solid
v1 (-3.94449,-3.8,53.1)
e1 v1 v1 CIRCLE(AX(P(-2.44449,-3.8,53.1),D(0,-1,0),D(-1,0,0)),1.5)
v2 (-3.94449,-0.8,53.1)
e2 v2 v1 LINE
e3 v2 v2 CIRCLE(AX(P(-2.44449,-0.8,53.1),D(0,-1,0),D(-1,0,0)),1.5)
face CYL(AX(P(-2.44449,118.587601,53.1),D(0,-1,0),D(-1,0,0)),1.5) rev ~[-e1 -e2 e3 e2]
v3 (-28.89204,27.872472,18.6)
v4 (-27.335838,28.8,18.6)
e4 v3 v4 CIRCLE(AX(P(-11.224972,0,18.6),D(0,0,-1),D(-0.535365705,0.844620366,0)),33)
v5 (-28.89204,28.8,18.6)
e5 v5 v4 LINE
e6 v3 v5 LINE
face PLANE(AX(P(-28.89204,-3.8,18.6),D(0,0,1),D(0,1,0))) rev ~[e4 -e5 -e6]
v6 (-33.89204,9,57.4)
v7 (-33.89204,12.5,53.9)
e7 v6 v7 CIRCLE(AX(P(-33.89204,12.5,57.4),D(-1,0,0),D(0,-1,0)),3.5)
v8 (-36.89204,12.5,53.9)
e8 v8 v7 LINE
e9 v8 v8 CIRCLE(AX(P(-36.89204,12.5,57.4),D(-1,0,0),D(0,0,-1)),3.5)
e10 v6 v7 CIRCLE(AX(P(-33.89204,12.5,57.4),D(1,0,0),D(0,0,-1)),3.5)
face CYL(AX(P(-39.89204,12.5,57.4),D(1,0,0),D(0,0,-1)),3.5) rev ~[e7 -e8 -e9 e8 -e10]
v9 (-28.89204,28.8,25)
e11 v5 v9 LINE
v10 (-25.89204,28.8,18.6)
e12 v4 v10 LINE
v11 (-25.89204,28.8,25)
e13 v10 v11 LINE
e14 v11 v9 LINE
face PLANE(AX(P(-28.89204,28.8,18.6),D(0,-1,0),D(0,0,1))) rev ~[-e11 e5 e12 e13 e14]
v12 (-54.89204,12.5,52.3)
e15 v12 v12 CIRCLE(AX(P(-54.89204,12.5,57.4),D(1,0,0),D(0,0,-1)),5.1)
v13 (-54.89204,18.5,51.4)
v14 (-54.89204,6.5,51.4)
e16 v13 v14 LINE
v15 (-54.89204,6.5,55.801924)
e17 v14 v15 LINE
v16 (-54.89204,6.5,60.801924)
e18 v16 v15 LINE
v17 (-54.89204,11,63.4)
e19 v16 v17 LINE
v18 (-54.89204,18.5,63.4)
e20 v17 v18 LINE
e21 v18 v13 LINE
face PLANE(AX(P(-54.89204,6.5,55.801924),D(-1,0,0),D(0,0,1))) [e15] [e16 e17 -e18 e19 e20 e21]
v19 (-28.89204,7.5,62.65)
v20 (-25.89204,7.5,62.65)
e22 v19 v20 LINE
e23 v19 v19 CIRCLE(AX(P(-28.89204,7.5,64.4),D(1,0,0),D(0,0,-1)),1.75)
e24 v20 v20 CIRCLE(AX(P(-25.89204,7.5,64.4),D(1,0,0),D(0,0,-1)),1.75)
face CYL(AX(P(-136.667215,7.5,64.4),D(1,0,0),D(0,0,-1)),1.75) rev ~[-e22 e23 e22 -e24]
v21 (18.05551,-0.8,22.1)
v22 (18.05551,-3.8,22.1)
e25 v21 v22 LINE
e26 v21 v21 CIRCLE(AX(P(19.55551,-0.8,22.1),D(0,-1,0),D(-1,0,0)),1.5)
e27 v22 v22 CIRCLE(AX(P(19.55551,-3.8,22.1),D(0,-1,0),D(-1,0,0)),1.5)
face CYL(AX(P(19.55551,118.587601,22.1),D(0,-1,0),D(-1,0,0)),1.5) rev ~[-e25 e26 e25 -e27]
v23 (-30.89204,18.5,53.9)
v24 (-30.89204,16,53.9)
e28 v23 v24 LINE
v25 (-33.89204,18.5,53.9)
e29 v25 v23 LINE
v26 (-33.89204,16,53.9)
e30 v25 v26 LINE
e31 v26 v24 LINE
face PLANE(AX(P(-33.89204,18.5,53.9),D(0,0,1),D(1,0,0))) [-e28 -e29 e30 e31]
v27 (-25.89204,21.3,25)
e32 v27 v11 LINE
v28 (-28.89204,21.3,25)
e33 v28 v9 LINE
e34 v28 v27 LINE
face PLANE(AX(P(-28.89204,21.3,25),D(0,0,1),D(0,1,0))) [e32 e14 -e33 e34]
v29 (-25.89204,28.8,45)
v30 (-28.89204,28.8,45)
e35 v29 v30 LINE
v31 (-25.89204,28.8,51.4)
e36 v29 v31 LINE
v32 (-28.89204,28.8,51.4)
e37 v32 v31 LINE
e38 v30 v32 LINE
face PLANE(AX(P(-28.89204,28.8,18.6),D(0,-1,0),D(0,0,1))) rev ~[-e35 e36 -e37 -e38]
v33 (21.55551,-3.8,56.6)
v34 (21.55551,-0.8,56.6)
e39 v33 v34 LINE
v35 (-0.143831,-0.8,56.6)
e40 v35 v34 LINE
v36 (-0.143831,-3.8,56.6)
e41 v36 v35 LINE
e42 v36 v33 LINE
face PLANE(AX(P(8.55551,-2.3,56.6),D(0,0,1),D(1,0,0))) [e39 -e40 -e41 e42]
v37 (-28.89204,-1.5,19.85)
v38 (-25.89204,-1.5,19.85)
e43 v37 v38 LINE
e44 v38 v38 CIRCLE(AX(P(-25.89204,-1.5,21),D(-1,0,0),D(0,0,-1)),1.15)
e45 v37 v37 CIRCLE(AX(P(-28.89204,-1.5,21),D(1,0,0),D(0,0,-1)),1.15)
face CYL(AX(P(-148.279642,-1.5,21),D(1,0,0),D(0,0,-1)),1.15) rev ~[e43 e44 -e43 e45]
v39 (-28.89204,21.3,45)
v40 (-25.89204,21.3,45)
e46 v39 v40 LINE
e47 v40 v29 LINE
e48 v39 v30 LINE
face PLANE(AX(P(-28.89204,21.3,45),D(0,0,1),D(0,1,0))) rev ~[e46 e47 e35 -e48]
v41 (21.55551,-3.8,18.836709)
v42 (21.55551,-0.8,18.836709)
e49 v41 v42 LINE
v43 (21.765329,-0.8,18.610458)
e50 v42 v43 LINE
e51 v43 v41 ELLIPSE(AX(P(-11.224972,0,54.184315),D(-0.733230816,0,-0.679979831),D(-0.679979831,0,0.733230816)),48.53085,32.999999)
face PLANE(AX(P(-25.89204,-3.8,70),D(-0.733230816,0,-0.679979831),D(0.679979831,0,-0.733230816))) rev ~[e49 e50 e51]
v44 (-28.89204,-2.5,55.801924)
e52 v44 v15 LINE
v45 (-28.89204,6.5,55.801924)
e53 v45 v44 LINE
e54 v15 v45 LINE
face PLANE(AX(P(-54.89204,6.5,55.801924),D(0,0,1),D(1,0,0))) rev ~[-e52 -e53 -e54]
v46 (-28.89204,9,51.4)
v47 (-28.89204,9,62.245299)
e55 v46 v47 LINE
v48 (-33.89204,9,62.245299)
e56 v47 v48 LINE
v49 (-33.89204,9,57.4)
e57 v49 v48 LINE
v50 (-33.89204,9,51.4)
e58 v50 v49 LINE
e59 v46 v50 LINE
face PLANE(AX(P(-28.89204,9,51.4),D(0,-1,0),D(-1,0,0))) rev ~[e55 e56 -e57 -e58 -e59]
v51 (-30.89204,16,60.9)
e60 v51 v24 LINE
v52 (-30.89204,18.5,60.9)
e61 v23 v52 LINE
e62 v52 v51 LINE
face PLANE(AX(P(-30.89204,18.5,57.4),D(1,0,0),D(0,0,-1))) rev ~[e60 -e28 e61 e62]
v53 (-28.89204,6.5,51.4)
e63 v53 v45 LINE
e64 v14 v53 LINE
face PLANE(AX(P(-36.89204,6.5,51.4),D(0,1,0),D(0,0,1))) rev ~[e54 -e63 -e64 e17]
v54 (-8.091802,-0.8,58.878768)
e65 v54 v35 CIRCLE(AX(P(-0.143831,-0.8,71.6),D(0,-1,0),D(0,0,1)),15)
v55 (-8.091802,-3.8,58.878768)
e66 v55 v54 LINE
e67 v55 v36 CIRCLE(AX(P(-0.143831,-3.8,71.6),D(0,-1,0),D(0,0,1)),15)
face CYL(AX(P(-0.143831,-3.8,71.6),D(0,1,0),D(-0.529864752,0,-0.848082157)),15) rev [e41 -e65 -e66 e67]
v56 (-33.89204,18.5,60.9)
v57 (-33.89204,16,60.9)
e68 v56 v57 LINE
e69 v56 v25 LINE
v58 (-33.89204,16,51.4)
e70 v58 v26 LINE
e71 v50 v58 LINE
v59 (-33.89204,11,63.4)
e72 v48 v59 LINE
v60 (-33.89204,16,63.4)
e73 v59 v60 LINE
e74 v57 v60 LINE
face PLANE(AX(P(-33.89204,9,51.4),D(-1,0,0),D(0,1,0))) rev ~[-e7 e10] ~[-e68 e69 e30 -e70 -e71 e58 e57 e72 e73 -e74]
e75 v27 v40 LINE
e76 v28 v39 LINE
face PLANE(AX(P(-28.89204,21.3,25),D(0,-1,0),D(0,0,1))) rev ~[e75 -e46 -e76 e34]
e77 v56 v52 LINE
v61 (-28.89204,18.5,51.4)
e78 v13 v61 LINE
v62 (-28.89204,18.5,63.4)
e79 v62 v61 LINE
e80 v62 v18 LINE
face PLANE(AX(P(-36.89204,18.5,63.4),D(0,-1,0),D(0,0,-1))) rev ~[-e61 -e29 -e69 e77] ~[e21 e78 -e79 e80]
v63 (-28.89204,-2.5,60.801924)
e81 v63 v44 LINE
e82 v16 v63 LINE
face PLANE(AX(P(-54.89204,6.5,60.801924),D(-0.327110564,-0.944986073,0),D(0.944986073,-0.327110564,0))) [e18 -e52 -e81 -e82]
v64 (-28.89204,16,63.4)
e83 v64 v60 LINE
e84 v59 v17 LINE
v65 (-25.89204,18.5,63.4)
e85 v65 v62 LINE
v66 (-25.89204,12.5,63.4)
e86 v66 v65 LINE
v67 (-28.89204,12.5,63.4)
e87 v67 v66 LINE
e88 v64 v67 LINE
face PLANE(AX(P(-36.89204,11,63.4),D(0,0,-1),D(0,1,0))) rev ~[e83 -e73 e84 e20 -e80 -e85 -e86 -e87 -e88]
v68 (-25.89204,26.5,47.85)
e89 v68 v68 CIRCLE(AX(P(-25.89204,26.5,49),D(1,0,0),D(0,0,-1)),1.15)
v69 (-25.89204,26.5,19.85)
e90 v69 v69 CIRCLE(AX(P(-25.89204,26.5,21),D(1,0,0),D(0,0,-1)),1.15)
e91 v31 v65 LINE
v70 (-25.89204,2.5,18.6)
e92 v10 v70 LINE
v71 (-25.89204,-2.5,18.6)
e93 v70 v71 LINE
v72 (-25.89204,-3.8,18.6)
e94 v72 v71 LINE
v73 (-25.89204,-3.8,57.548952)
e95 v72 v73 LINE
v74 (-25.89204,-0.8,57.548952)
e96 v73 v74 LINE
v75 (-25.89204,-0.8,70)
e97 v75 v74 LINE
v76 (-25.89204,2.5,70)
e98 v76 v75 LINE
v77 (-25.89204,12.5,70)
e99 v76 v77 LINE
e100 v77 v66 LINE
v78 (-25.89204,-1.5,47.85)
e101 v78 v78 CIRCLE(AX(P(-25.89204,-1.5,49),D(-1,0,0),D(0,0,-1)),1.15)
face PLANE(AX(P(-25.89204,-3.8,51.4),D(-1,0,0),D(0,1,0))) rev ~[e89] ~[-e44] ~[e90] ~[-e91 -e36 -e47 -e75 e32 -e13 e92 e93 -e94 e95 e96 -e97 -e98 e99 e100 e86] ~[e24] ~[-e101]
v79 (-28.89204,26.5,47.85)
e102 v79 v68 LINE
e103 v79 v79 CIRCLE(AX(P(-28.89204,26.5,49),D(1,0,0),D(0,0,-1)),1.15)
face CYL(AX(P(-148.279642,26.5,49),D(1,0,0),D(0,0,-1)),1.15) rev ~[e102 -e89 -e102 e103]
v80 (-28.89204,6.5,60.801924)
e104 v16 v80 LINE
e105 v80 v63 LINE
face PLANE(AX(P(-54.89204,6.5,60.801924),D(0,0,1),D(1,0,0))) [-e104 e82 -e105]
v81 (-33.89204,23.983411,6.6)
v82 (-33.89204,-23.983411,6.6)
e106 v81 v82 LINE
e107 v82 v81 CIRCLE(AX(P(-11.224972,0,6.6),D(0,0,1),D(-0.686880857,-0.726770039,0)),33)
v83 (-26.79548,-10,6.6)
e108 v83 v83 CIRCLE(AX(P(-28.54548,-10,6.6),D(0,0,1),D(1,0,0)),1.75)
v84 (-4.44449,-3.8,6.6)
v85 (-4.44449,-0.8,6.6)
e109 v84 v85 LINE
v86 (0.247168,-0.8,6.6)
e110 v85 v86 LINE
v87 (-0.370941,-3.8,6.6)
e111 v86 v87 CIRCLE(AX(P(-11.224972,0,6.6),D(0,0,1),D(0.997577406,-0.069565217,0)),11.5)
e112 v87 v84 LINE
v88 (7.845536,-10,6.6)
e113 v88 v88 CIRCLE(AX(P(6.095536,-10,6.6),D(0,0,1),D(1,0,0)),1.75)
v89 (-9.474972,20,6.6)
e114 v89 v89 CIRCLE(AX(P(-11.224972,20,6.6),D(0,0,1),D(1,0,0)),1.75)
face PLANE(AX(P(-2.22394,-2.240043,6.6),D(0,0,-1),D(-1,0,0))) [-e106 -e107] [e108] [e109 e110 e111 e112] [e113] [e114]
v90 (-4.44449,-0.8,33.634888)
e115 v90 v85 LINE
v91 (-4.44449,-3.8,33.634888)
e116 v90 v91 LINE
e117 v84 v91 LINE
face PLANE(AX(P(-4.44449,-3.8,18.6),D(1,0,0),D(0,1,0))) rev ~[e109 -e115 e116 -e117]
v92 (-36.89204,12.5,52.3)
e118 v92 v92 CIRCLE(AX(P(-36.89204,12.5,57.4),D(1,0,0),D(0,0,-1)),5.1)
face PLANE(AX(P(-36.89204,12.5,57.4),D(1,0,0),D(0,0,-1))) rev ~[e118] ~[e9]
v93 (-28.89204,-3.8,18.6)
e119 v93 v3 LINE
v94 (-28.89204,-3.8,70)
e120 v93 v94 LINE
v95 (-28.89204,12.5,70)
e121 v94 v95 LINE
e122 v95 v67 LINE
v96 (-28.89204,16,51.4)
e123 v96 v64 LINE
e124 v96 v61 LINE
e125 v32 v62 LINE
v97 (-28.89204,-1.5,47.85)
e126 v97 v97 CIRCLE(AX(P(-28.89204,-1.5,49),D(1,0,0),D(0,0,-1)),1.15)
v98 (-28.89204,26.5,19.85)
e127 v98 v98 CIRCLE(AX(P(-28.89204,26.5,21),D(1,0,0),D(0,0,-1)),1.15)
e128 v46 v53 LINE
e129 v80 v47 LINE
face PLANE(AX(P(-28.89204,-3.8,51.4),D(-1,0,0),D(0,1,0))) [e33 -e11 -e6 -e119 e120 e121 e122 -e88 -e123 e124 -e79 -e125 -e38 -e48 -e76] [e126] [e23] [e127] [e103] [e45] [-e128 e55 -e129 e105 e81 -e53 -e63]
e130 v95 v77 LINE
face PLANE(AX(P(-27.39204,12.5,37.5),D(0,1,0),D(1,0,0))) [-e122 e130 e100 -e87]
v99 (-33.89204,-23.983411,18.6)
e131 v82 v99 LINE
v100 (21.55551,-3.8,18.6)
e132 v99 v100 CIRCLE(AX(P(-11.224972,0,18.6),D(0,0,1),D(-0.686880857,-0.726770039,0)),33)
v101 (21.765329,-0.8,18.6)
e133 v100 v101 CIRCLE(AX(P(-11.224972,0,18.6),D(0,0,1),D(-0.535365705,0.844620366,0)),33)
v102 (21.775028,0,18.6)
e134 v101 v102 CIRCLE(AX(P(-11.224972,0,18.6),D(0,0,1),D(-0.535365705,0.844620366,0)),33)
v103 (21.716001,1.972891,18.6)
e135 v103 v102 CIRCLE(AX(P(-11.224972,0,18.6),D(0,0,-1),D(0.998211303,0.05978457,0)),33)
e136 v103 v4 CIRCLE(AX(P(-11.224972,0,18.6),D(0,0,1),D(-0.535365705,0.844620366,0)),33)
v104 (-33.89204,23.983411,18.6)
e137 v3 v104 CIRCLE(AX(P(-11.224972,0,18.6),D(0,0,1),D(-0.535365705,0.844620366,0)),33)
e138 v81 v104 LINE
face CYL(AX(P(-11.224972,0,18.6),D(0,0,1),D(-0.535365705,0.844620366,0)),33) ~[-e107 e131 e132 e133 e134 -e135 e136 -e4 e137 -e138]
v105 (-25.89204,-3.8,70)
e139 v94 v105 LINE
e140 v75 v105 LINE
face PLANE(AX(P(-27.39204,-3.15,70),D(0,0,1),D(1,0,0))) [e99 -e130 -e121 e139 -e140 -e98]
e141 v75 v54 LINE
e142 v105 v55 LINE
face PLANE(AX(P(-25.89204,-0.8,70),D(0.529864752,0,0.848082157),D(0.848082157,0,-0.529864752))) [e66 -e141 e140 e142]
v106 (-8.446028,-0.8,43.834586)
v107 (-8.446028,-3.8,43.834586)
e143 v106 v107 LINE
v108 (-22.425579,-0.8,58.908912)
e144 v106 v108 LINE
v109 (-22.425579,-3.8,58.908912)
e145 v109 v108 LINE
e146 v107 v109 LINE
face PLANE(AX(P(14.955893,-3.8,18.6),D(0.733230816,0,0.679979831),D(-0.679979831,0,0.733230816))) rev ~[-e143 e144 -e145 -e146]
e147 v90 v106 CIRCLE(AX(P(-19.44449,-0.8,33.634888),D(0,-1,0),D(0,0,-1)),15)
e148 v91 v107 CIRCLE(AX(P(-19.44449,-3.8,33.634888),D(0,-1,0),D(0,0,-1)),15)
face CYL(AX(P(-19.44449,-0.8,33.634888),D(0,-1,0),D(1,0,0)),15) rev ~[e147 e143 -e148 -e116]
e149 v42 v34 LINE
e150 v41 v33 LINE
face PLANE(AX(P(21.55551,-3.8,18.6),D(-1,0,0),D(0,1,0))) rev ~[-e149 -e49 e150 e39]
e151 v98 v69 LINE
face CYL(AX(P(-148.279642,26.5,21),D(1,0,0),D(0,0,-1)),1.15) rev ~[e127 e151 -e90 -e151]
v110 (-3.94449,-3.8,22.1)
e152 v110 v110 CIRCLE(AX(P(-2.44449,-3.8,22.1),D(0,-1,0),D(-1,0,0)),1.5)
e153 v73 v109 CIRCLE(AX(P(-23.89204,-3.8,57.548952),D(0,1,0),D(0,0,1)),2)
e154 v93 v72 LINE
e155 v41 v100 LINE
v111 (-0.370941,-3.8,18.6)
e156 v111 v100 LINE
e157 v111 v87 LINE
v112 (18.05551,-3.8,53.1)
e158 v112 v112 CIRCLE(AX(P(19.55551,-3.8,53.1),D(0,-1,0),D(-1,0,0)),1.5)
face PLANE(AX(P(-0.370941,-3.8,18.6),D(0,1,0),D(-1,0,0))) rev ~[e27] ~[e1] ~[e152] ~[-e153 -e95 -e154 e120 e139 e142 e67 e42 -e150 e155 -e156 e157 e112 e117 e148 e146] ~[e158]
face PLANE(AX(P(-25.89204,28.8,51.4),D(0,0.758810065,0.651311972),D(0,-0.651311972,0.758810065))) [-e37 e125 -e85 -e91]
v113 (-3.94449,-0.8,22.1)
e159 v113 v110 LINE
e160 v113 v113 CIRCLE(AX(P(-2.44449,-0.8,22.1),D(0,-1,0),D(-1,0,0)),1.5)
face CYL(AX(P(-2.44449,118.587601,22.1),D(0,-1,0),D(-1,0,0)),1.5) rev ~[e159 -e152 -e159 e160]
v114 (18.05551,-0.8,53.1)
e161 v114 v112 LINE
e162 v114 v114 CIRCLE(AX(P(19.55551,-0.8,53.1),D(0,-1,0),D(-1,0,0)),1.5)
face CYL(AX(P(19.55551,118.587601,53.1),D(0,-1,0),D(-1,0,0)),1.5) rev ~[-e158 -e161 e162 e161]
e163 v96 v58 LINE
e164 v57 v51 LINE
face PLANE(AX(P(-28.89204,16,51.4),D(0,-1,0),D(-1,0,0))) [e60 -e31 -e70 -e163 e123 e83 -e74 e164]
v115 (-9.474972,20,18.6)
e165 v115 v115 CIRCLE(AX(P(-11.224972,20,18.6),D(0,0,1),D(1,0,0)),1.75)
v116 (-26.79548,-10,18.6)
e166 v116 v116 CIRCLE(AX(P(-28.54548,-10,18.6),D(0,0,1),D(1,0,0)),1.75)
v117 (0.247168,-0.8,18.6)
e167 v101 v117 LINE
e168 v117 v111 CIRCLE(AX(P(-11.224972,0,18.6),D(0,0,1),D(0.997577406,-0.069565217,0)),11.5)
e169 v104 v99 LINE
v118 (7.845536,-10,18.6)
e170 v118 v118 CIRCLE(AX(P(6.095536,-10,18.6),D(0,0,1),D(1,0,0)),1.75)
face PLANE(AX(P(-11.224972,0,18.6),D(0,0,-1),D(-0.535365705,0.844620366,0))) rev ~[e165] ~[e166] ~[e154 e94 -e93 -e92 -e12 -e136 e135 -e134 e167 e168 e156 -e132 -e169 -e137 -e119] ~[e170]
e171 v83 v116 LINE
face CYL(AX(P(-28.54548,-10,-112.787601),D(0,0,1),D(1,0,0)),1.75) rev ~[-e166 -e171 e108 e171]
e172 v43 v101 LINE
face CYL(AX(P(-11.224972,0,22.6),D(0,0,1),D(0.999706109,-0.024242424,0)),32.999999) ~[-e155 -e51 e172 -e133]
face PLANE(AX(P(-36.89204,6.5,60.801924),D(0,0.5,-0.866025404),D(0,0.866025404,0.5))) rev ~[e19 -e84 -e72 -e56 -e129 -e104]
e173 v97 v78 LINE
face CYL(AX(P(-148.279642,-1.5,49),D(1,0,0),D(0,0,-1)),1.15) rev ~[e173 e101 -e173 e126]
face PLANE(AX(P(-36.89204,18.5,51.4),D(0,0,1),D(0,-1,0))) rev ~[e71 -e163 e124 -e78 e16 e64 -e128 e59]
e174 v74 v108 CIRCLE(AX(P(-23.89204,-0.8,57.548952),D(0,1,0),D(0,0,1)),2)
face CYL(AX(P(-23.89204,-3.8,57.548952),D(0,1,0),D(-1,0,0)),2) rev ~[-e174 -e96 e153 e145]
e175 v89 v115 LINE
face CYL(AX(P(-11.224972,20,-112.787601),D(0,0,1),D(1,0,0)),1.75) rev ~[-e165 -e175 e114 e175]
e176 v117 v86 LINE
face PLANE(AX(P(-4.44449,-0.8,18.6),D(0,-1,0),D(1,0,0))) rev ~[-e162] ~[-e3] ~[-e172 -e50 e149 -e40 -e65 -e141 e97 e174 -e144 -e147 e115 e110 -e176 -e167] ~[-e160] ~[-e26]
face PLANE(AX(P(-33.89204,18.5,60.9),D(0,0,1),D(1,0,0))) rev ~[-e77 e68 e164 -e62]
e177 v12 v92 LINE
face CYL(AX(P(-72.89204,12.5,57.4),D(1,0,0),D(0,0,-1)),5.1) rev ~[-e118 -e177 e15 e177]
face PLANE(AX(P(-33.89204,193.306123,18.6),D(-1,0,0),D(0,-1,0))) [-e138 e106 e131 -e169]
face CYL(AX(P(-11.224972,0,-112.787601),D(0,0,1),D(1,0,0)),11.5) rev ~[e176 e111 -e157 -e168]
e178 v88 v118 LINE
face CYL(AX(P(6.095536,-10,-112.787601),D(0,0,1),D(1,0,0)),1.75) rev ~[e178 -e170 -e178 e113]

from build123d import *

# Parameters (mm, degrees)
SKETCH_1_R           = 29
EXTRUDE_1_DEPTH      = 5
HOLE_WIZARD_1_D      = 3.5
HOLE_WIZARD_2_D      = 23
EXTRUDE_3_DEPTH      = 65
SKETCH_9_W           = 1
SKETCH_9_H           = 5
CUT_EXTRUDE_1_DEPTH  = 10
SKETCH_10_W          = 3
SKETCH_10_H          = 65
EXTRUDE_5_DEPTH      = 10
HOLE_WIZARD_3_D      = 3.5
EXTRUDE_START        = -65
EXTRUDE_6_DEPTH      = 65
SKETCH_22_W          = 12
SKETCH_22_H          = 6
EXTRUDE_7_DEPTH      = 3
EXTRUDE_8_DEPTH      = 8
HOLE_WIZARD_5_D      = 7
HOLE_WIZARD_5_DEPTH  = 3
SKETCH_27_W          = 5
SKETCH_27_H          = 3.5
CUT_EXTRUDE_3_DEPTH  = 70.598725899
CUT_EXTRUDE_4_REACH  = 94.289
SKETCH_28_W          = 3
SKETCH_28_H          = 3.5
SKETCH_29_R          = 3.5
EXTRUDE_9_DEPTH      = 18
HOLE_WIZARD_6_D      = 10.2
HOLE_WIZARD_6_DEPTH  = 18
SKETCH_32_W          = 26
SKETCH_32_H          = 5
EXTRUDE_10_DEPTH     = 9
CUT_EXTRUDE_5_REACH  = 88.897
SKETCH_36_W          = 32.8
SKETCH_36_H          = 32.6
EXTRUDE_12_DEPTH     = 3
SKETCH_38_R          = 29
CUT_EXTRUDE_7_DEPTH  = 5
SKETCH_39_W          = 17.667068266
SKETCH_39_H          = 15
CUT_EXTRUDE_8_DEPTH  = 13.6
SKETCH_41_R          = 33
EXTRUDE_14_DEPTH     = 12
HOLE_WIZARD_8_D      = 3.5
HOLE_WIZARD_9_D      = 23
HOLE_WIZARD_10_D     = 2.3
SKETCH_53_W          = 20
SKETCH_53_H          = 15
CUT_EXTRUDE_9_DEPTH  = 3
EXTRUDE_16_DEPTH     = 3
SKETCH_56_W          = 3.442096105
SKETCH_56_H          = 51.4
CUT_EXTRUDE_10_DEPTH = 96.777795528
SKETCH_57_W          = 3
SKETCH_57_H          = 1.3
EXTRUDE_17_DEPTH     = 18.6
EXTRUDE_18_DEPTH     = 3
CUT_EXTRUDE_START    = -12
CUT_EXTRUDE_11_DEPTH = 12
SKETCH_63_W          = 26
SKETCH_63_H          = 3
EXTRUDE_21_DEPTH     = 38
HOLE_WIZARD_11_D     = 3
EXTRUDE_22_DEPTH     = 3
CUT_EXTRUDE_START_2  = 4
CUT_EXTRUDE_13_DEPTH = 4
FILLET_1_R           = 15
FILLET_2_R           = 2
EXTRUDE_23_DEPTH     = 12


with BuildPart() as part:
    # 草图1 → 凸台-拉伸1 (new body)
    with BuildSketch(Plane.XY):
        Circle(SKETCH_1_R)
    extrude(amount=EXTRUDE_1_DEPTH)

    # 孔1 (through all)
    with Locations(Plane.XY.offset(5)):
        with Locations((0, 20), (-17.320508076, -10), (17.320508076, -10)):
            Hole(HOLE_WIZARD_1_D / 2)

    # 孔2 (through all)
    with Locations(Plane.XY.offset(5)):
        with Locations((0, 0)):
            Hole(HOLE_WIZARD_2_D / 2)

    # 草图7 → 凸台-拉伸3 (add)
    with BuildSketch(Plane.XY.offset(5)):
        with BuildLine():
            Line((-28.892040426, 2.5), (-28.892040426, -2.5))
            Line((-28.892040426, -2.5), (-11.22497216, -2.5))
            ThreePointArc((-11.22497216, -2.5), (-11.5, 0), (-11.22497216, 2.5))
            Line((-11.22497216, 2.5), (-28.892040426, 2.5))
        make_face()
    extrude(amount=EXTRUDE_3_DEPTH)

    # 草图9 → 切除-拉伸1 (cut)
    with BuildSketch(Plane.XY.offset(5)):
        with Locations((-29.392040426, 0)):
            Rectangle(SKETCH_9_W, SKETCH_9_H)
    extrude(amount=-CUT_EXTRUDE_1_DEPTH, mode=Mode.SUBTRACT)

    # 草图10 → 凸台-拉伸5 (add)
    with BuildSketch(Plane(origin=(0, 2.5, 0), x_dir=(1, 0, 0), z_dir=(0, 1, 0))):
        with Locations((-27.392040426, -37.5)):
            Rectangle(SKETCH_10_W, SKETCH_10_H)
    extrude(amount=EXTRUDE_5_DEPTH)

    # 孔3 (through all)
    with Locations(Plane.ZY.offset(28.892040426)):
        with Locations((10, 7.5), (64.4, 7.5)):
            Hole(HOLE_WIZARD_3_D / 2)

    # 草图20 → 凸台-拉伸6 (add)
    with BuildSketch(Plane.XY.offset(70).offset(EXTRUDE_START)):
        with BuildLine():
            Line((-11.22497216, 2.5), (-11.22497216, -2.5))
            ThreePointArc((-11.22497216, -2.5), (-11.5, 0), (-11.22497216, 2.5))
        make_face()
    extrude(amount=EXTRUDE_6_DEPTH)

    # 草图22 → 凸台-拉伸7 (add)
    with BuildSketch(Plane.ZY.offset(28.892040426)):
        with Locations((57.4, 15.5)):
            Rectangle(SKETCH_22_W, SKETCH_22_H)
    extrude(amount=-EXTRUDE_7_DEPTH)

    # 草图23 → 凸台-拉伸8 (add)
    with BuildSketch(Plane.ZY.offset(28.892040426)):
        Polygon((51.4, 6.5), (60.801923789, 6.5), (63.4, 11), (63.4, 12.5), (63.4, 18.5), (51.4, 18.5), (51.4, 12.5), align=None)
    extrude(amount=EXTRUDE_8_DEPTH)

    # 孔5
    with Locations(Plane.ZY.offset(36.892040426)):
        with Locations((57.4, 12.5)):
            Hole(HOLE_WIZARD_5_D / 2, depth=HOLE_WIZARD_5_DEPTH)

    # 草图27 → 切除-拉伸3 (cut, through all)
    with BuildSketch(Plane(origin=(0, 0, 51.4), x_dir=(-1, 0, 0), z_dir=(0, 0, -1))):
        with Locations((31.392040426, 14.25)):
            Rectangle(SKETCH_27_W, SKETCH_27_H)
        with Locations((31.392040426, 10.75)):
            Rectangle(SKETCH_27_W, SKETCH_27_H)
    extrude(amount=-CUT_EXTRUDE_3_DEPTH, mode=Mode.SUBTRACT)

    # 草图28 → 切除-拉伸4 (cut, up to next)
    with BuildSketch(Plane(origin=(0, 18.5, 0), x_dir=(1, 0, 0), z_dir=(0, 1, 0)), mode=Mode.PRIVATE) as cut_extrude_4_sk1:
        with Locations((-32.392040426, -59.15)):
            Rectangle(SKETCH_28_W, SKETCH_28_H)
    cut_extrude_4_tool1 = extrude(cut_extrude_4_sk1.sketch, amount=-CUT_EXTRUDE_4_REACH, mode=Mode.PRIVATE) & part.part
    # 草图28 → 切除-拉伸4 (cut, up to next)
    with BuildSketch(Plane(origin=(0, 18.5, 0), x_dir=(1, 0, 0), z_dir=(0, 1, 0)), mode=Mode.PRIVATE) as cut_extrude_4_sk2:
        with Locations((-32.392040426, -55.65)):
            Rectangle(SKETCH_28_W, SKETCH_28_H)
    cut_extrude_4_tool2 = extrude(cut_extrude_4_sk2.sketch, amount=-CUT_EXTRUDE_4_REACH, mode=Mode.PRIVATE) & part.part
    add(cut_extrude_4_tool1.solids().sort_by_distance((-32.39204, 18.5, 59.15))[0], mode=Mode.SUBTRACT)
    add(cut_extrude_4_tool2.solids().sort_by_distance((-32.39204, 18.5, 55.65))[0], mode=Mode.SUBTRACT)

    # 草图29 → 凸台-拉伸9 (add)
    # profile 1 of 2: a face of its own
    with BuildSketch(Plane.ZY.offset(36.892040426)):
        Polygon((60.801923789, 6.5), (63.4, 11), (63.4, 18.5), (51.4, 18.5), (51.4, 6.5), align=None)
        with Locations((57.4, 12.5)):
            Circle(SKETCH_29_R, mode=Mode.SUBTRACT)
    # profile 2 of 2: a face of its own
    with BuildSketch(Plane.ZY.offset(36.892040426)):
        with Locations((57.4, 12.5)):
            Circle(SKETCH_29_R)
    extrude(amount=EXTRUDE_9_DEPTH)

    # 孔6
    with Locations(Plane.ZY.offset(54.892040426)):
        with Locations((57.4, 12.5)):
            Hole(HOLE_WIZARD_6_D / 2, depth=HOLE_WIZARD_6_DEPTH)

    # 草图32 → 凸台-拉伸10 (add)
    with BuildSketch(Plane.XZ.offset(-6.5)):
        with Locations((-41.892040426, 58.301923789)):
            Rectangle(SKETCH_32_W, SKETCH_32_H)
    extrude(amount=EXTRUDE_10_DEPTH)

    # 草图33 → 切除-拉伸5 (cut, up to next)
    with BuildSketch(Plane.XY.offset(60.801923789), mode=Mode.PRIVATE) as cut_extrude_5_sk1:
        Polygon((-54.892040426, 6.5), (-28.892040426, -2.5), (-54.892040426, -2.5), align=None)
    cut_extrude_5_tool1 = extrude(cut_extrude_5_sk1.sketch, amount=-CUT_EXTRUDE_5_REACH, mode=Mode.PRIVATE) & part.part
    add(cut_extrude_5_tool1.solids().sort_by_distance((-46.225374, 0.5, 60.801924))[0], mode=Mode.SUBTRACT)

    # 草图36 → 凸台-拉伸12 (add)
    with BuildSketch(Plane.ZY.offset(28.892040426)):
        with Locations((35, 12.5)):
            Rectangle(SKETCH_36_W, SKETCH_36_H)
    extrude(amount=-EXTRUDE_12_DEPTH)

    # 草图38 → 切除-拉伸7 (cut)
    with BuildSketch(Plane(origin=(0, 0, 0), x_dir=(-1, 0, 0), z_dir=(0, 0, -1))):
        Circle(SKETCH_38_R)
    extrude(amount=-CUT_EXTRUDE_7_DEPTH, mode=Mode.SUBTRACT)

    # 草图39 → 切除-拉伸8 (cut)
    with BuildSketch(Plane(origin=(0, 0, 5), x_dir=(-1, 0, 0), z_dir=(0, 0, -1))):
        with Locations((20.058506293, 5)):
            Rectangle(SKETCH_39_W, SKETCH_39_H)
    extrude(amount=-CUT_EXTRUDE_8_DEPTH, mode=Mode.SUBTRACT)

    # 草图41 → 凸台-拉伸14 (add)
    with BuildSketch(Plane(origin=(0, 0, 18.6), x_dir=(-1, 0, 0), z_dir=(0, 0, -1))):
        with Locations(Location((11.22497216, 0, 0), (0, 0, 57.631283974))):
            Circle(SKETCH_41_R)
    extrude(amount=EXTRUDE_14_DEPTH)

    # 孔8 (through all)
    with Locations(Plane(origin=(0, 0, 6.6), x_dir=(-1, 0, 0), z_dir=(0, 0, -1))):
        with Locations((11.22497216, 20), (-6.095535915, -10), (28.545480236, -10)):
            Hole(HOLE_WIZARD_8_D / 2)

    # 孔9 (through all)
    with Locations(Plane(origin=(0, 0, 6.6), x_dir=(-1, 0, 0), z_dir=(0, 0, -1))):
        with Locations((11.22497216, 0)):
            Hole(HOLE_WIZARD_9_D / 2)

    # 孔10 (through all)
    with Locations(Plane.ZY.offset(28.892040426)):
        with Locations((21, 26.5), (49, 26.5), (49, -1.5), (21, -1.5)):
            Hole(HOLE_WIZARD_10_D / 2)

    # 草图53 → 切除-拉伸9 (cut)
    with BuildSketch(Plane.ZY.offset(28.892040426)):
        with Locations((35, 28.8)):
            Rectangle(SKETCH_53_W, SKETCH_53_H)
    extrude(amount=-CUT_EXTRUDE_9_DEPTH, mode=Mode.SUBTRACT)

    # 草图55 → 凸台-拉伸16 (add)
    with BuildSketch(Plane(origin=(-25.892040426, 0, 0), x_dir=(0, 0, -1), z_dir=(1, 0, 0))):
        Polygon((-51.4, 28.8), (-63.4, 18.5), (-51.4, 18.5), align=None)
    extrude(amount=-EXTRUDE_16_DEPTH)

    # 草图56 → 切除-拉伸10 (cut, through all)
    with BuildSketch(Plane(origin=(0, 2.5, 0), x_dir=(1, 0, 0), z_dir=(0, 1, 0))):
        with Locations((-24.170992373, -44.3)):
            Rectangle(SKETCH_56_W, SKETCH_56_H)
    extrude(amount=-CUT_EXTRUDE_10_DEPTH, mode=Mode.SUBTRACT)

    # 草图57 → 凸台-拉伸17 (add)
    with BuildSketch(Plane.XY.offset(51.4)):
        with Locations((-27.392040426, -3.15)):
            Rectangle(SKETCH_57_W, SKETCH_57_H)
    extrude(amount=EXTRUDE_17_DEPTH)

    # 草图58 → 凸台-拉伸18 (add)
    with BuildSketch(Plane.XZ.offset(3.8)):
        Polygon((-25.892040426, 70), (21.77502784, 18.6), (14.955892727, 18.6), (-25.892040426, 62.646840732), align=None)
    extrude(amount=-EXTRUDE_18_DEPTH)

    # 草图62 → 切除-拉伸11 (cut)
    with BuildSketch(Plane(origin=(0, 0, 6.6), x_dir=(-1, 0, 0), z_dir=(0, 0, -1)).offset(CUT_EXTRUDE_START)):
        Polygon((33.892040426, 193.306123394), (33.892040426, 23.983411272), (33.892040426, -23.983411272), (33.892040426, -193.306123394), (372.537464671, -193.306123394), (372.537464671, 193.306123394), align=None)
    extrude(amount=CUT_EXTRUDE_11_DEPTH, mode=Mode.SUBTRACT)

    # 草图63 → 凸台-拉伸21 (add)
    with BuildSketch(Plane.XY.offset(18.6)):
        with Locations((8.555509837, -2.3)):
            Rectangle(SKETCH_63_W, SKETCH_63_H)
    extrude(amount=EXTRUDE_21_DEPTH)

    # 孔11 (through all)
    with Locations(Plane(origin=(0, -0.8, 0), x_dir=(1, 0, 0), z_dir=(0, 1, 0))):
        with Locations((-2.444490163, -22.1), (19.555509837, -22.1), (-2.444490163, -53.1), (19.555509837, -53.1)):
            Hole(HOLE_WIZARD_11_D / 2)

    # 草图67 → 凸台-拉伸22 (add)
    with BuildSketch(Plane(origin=(0, -0.8, 0), x_dir=(1, 0, 0), z_dir=(0, 1, 0))):
        Polygon((-25.892040426, -70), (-4.444490163, -56.6), (-4.444490163, -46.872836454), align=None)
    extrude(amount=-EXTRUDE_22_DEPTH)

    # 草图68 → 切除-拉伸13 (cut)
    with BuildSketch(Plane.XY.offset(18.6).offset(CUT_EXTRUDE_START_2)):
        with BuildLine():
            ThreePointArc((21.555509837, -3.8), (21.498484695, -4.263258313), (21.434913054, -4.725663739))
            Line((21.434913054, -4.725663739), (29.536238519, -6.781789189))
            ThreePointArc((29.536238519, -6.781789189), (29.956240846, -3.402448529), (30.096559281, 0))
            ThreePointArc((30.096559281, 0), (30.084776458, 0.986726755), (30.049434711, 1.972890781))
            Line((30.049434711, 1.972890781), (21.716000836, 1.972890781))
            ThreePointArc((21.716000836, 1.972890781), (21.760267788, 0.9868868), (21.77502784, 0))
            ThreePointArc((21.77502784, 0), (21.772603152, -0.400029392), (21.765329445, -0.8))
            ThreePointArc((21.765329445, -0.8), (21.694611585, -2.30239138), (21.555509837, -3.8))
        make_face()
    extrude(amount=-CUT_EXTRUDE_13_DEPTH, mode=Mode.SUBTRACT)

    # 圆角1
    fillet_1_edges = [part.edges().sort_by_distance(p)[0] for p in [
        (-4.444490163, -2.3, 56.6),
        (-4.444490163, -2.3, 39.519677186),
    ]]
    fillet(fillet_1_edges, radius=FILLET_1_R)

    # 圆角2
    fillet_2_edges = [part.edges().sort_by_distance(p)[0] for p in [
        (-25.892040426, -2.3, 62.646840732),
    ]]
    fillet(fillet_2_edges, radius=FILLET_2_R)

    # 草图69 → 凸台-拉伸23 (add)
    with BuildSketch(Plane(origin=(0, 0, 18.6), x_dir=(-1, 0, 0), z_dir=(0, 0, -1))):
        with BuildLine():
            Line((4.444490163, -3.8), (4.444490163, -0.8))
            Line((4.444490163, -0.8), (-0.247168006, -0.8))
            ThreePointArc((-0.247168006, -0.8), (-0.038441417, -2.320671148), (0.370940651, -3.8))
            Line((0.370940651, -3.8), (4.444490163, -3.8))
        make_face()
    extrude(amount=EXTRUDE_23_DEPTH)


solid = part.part
